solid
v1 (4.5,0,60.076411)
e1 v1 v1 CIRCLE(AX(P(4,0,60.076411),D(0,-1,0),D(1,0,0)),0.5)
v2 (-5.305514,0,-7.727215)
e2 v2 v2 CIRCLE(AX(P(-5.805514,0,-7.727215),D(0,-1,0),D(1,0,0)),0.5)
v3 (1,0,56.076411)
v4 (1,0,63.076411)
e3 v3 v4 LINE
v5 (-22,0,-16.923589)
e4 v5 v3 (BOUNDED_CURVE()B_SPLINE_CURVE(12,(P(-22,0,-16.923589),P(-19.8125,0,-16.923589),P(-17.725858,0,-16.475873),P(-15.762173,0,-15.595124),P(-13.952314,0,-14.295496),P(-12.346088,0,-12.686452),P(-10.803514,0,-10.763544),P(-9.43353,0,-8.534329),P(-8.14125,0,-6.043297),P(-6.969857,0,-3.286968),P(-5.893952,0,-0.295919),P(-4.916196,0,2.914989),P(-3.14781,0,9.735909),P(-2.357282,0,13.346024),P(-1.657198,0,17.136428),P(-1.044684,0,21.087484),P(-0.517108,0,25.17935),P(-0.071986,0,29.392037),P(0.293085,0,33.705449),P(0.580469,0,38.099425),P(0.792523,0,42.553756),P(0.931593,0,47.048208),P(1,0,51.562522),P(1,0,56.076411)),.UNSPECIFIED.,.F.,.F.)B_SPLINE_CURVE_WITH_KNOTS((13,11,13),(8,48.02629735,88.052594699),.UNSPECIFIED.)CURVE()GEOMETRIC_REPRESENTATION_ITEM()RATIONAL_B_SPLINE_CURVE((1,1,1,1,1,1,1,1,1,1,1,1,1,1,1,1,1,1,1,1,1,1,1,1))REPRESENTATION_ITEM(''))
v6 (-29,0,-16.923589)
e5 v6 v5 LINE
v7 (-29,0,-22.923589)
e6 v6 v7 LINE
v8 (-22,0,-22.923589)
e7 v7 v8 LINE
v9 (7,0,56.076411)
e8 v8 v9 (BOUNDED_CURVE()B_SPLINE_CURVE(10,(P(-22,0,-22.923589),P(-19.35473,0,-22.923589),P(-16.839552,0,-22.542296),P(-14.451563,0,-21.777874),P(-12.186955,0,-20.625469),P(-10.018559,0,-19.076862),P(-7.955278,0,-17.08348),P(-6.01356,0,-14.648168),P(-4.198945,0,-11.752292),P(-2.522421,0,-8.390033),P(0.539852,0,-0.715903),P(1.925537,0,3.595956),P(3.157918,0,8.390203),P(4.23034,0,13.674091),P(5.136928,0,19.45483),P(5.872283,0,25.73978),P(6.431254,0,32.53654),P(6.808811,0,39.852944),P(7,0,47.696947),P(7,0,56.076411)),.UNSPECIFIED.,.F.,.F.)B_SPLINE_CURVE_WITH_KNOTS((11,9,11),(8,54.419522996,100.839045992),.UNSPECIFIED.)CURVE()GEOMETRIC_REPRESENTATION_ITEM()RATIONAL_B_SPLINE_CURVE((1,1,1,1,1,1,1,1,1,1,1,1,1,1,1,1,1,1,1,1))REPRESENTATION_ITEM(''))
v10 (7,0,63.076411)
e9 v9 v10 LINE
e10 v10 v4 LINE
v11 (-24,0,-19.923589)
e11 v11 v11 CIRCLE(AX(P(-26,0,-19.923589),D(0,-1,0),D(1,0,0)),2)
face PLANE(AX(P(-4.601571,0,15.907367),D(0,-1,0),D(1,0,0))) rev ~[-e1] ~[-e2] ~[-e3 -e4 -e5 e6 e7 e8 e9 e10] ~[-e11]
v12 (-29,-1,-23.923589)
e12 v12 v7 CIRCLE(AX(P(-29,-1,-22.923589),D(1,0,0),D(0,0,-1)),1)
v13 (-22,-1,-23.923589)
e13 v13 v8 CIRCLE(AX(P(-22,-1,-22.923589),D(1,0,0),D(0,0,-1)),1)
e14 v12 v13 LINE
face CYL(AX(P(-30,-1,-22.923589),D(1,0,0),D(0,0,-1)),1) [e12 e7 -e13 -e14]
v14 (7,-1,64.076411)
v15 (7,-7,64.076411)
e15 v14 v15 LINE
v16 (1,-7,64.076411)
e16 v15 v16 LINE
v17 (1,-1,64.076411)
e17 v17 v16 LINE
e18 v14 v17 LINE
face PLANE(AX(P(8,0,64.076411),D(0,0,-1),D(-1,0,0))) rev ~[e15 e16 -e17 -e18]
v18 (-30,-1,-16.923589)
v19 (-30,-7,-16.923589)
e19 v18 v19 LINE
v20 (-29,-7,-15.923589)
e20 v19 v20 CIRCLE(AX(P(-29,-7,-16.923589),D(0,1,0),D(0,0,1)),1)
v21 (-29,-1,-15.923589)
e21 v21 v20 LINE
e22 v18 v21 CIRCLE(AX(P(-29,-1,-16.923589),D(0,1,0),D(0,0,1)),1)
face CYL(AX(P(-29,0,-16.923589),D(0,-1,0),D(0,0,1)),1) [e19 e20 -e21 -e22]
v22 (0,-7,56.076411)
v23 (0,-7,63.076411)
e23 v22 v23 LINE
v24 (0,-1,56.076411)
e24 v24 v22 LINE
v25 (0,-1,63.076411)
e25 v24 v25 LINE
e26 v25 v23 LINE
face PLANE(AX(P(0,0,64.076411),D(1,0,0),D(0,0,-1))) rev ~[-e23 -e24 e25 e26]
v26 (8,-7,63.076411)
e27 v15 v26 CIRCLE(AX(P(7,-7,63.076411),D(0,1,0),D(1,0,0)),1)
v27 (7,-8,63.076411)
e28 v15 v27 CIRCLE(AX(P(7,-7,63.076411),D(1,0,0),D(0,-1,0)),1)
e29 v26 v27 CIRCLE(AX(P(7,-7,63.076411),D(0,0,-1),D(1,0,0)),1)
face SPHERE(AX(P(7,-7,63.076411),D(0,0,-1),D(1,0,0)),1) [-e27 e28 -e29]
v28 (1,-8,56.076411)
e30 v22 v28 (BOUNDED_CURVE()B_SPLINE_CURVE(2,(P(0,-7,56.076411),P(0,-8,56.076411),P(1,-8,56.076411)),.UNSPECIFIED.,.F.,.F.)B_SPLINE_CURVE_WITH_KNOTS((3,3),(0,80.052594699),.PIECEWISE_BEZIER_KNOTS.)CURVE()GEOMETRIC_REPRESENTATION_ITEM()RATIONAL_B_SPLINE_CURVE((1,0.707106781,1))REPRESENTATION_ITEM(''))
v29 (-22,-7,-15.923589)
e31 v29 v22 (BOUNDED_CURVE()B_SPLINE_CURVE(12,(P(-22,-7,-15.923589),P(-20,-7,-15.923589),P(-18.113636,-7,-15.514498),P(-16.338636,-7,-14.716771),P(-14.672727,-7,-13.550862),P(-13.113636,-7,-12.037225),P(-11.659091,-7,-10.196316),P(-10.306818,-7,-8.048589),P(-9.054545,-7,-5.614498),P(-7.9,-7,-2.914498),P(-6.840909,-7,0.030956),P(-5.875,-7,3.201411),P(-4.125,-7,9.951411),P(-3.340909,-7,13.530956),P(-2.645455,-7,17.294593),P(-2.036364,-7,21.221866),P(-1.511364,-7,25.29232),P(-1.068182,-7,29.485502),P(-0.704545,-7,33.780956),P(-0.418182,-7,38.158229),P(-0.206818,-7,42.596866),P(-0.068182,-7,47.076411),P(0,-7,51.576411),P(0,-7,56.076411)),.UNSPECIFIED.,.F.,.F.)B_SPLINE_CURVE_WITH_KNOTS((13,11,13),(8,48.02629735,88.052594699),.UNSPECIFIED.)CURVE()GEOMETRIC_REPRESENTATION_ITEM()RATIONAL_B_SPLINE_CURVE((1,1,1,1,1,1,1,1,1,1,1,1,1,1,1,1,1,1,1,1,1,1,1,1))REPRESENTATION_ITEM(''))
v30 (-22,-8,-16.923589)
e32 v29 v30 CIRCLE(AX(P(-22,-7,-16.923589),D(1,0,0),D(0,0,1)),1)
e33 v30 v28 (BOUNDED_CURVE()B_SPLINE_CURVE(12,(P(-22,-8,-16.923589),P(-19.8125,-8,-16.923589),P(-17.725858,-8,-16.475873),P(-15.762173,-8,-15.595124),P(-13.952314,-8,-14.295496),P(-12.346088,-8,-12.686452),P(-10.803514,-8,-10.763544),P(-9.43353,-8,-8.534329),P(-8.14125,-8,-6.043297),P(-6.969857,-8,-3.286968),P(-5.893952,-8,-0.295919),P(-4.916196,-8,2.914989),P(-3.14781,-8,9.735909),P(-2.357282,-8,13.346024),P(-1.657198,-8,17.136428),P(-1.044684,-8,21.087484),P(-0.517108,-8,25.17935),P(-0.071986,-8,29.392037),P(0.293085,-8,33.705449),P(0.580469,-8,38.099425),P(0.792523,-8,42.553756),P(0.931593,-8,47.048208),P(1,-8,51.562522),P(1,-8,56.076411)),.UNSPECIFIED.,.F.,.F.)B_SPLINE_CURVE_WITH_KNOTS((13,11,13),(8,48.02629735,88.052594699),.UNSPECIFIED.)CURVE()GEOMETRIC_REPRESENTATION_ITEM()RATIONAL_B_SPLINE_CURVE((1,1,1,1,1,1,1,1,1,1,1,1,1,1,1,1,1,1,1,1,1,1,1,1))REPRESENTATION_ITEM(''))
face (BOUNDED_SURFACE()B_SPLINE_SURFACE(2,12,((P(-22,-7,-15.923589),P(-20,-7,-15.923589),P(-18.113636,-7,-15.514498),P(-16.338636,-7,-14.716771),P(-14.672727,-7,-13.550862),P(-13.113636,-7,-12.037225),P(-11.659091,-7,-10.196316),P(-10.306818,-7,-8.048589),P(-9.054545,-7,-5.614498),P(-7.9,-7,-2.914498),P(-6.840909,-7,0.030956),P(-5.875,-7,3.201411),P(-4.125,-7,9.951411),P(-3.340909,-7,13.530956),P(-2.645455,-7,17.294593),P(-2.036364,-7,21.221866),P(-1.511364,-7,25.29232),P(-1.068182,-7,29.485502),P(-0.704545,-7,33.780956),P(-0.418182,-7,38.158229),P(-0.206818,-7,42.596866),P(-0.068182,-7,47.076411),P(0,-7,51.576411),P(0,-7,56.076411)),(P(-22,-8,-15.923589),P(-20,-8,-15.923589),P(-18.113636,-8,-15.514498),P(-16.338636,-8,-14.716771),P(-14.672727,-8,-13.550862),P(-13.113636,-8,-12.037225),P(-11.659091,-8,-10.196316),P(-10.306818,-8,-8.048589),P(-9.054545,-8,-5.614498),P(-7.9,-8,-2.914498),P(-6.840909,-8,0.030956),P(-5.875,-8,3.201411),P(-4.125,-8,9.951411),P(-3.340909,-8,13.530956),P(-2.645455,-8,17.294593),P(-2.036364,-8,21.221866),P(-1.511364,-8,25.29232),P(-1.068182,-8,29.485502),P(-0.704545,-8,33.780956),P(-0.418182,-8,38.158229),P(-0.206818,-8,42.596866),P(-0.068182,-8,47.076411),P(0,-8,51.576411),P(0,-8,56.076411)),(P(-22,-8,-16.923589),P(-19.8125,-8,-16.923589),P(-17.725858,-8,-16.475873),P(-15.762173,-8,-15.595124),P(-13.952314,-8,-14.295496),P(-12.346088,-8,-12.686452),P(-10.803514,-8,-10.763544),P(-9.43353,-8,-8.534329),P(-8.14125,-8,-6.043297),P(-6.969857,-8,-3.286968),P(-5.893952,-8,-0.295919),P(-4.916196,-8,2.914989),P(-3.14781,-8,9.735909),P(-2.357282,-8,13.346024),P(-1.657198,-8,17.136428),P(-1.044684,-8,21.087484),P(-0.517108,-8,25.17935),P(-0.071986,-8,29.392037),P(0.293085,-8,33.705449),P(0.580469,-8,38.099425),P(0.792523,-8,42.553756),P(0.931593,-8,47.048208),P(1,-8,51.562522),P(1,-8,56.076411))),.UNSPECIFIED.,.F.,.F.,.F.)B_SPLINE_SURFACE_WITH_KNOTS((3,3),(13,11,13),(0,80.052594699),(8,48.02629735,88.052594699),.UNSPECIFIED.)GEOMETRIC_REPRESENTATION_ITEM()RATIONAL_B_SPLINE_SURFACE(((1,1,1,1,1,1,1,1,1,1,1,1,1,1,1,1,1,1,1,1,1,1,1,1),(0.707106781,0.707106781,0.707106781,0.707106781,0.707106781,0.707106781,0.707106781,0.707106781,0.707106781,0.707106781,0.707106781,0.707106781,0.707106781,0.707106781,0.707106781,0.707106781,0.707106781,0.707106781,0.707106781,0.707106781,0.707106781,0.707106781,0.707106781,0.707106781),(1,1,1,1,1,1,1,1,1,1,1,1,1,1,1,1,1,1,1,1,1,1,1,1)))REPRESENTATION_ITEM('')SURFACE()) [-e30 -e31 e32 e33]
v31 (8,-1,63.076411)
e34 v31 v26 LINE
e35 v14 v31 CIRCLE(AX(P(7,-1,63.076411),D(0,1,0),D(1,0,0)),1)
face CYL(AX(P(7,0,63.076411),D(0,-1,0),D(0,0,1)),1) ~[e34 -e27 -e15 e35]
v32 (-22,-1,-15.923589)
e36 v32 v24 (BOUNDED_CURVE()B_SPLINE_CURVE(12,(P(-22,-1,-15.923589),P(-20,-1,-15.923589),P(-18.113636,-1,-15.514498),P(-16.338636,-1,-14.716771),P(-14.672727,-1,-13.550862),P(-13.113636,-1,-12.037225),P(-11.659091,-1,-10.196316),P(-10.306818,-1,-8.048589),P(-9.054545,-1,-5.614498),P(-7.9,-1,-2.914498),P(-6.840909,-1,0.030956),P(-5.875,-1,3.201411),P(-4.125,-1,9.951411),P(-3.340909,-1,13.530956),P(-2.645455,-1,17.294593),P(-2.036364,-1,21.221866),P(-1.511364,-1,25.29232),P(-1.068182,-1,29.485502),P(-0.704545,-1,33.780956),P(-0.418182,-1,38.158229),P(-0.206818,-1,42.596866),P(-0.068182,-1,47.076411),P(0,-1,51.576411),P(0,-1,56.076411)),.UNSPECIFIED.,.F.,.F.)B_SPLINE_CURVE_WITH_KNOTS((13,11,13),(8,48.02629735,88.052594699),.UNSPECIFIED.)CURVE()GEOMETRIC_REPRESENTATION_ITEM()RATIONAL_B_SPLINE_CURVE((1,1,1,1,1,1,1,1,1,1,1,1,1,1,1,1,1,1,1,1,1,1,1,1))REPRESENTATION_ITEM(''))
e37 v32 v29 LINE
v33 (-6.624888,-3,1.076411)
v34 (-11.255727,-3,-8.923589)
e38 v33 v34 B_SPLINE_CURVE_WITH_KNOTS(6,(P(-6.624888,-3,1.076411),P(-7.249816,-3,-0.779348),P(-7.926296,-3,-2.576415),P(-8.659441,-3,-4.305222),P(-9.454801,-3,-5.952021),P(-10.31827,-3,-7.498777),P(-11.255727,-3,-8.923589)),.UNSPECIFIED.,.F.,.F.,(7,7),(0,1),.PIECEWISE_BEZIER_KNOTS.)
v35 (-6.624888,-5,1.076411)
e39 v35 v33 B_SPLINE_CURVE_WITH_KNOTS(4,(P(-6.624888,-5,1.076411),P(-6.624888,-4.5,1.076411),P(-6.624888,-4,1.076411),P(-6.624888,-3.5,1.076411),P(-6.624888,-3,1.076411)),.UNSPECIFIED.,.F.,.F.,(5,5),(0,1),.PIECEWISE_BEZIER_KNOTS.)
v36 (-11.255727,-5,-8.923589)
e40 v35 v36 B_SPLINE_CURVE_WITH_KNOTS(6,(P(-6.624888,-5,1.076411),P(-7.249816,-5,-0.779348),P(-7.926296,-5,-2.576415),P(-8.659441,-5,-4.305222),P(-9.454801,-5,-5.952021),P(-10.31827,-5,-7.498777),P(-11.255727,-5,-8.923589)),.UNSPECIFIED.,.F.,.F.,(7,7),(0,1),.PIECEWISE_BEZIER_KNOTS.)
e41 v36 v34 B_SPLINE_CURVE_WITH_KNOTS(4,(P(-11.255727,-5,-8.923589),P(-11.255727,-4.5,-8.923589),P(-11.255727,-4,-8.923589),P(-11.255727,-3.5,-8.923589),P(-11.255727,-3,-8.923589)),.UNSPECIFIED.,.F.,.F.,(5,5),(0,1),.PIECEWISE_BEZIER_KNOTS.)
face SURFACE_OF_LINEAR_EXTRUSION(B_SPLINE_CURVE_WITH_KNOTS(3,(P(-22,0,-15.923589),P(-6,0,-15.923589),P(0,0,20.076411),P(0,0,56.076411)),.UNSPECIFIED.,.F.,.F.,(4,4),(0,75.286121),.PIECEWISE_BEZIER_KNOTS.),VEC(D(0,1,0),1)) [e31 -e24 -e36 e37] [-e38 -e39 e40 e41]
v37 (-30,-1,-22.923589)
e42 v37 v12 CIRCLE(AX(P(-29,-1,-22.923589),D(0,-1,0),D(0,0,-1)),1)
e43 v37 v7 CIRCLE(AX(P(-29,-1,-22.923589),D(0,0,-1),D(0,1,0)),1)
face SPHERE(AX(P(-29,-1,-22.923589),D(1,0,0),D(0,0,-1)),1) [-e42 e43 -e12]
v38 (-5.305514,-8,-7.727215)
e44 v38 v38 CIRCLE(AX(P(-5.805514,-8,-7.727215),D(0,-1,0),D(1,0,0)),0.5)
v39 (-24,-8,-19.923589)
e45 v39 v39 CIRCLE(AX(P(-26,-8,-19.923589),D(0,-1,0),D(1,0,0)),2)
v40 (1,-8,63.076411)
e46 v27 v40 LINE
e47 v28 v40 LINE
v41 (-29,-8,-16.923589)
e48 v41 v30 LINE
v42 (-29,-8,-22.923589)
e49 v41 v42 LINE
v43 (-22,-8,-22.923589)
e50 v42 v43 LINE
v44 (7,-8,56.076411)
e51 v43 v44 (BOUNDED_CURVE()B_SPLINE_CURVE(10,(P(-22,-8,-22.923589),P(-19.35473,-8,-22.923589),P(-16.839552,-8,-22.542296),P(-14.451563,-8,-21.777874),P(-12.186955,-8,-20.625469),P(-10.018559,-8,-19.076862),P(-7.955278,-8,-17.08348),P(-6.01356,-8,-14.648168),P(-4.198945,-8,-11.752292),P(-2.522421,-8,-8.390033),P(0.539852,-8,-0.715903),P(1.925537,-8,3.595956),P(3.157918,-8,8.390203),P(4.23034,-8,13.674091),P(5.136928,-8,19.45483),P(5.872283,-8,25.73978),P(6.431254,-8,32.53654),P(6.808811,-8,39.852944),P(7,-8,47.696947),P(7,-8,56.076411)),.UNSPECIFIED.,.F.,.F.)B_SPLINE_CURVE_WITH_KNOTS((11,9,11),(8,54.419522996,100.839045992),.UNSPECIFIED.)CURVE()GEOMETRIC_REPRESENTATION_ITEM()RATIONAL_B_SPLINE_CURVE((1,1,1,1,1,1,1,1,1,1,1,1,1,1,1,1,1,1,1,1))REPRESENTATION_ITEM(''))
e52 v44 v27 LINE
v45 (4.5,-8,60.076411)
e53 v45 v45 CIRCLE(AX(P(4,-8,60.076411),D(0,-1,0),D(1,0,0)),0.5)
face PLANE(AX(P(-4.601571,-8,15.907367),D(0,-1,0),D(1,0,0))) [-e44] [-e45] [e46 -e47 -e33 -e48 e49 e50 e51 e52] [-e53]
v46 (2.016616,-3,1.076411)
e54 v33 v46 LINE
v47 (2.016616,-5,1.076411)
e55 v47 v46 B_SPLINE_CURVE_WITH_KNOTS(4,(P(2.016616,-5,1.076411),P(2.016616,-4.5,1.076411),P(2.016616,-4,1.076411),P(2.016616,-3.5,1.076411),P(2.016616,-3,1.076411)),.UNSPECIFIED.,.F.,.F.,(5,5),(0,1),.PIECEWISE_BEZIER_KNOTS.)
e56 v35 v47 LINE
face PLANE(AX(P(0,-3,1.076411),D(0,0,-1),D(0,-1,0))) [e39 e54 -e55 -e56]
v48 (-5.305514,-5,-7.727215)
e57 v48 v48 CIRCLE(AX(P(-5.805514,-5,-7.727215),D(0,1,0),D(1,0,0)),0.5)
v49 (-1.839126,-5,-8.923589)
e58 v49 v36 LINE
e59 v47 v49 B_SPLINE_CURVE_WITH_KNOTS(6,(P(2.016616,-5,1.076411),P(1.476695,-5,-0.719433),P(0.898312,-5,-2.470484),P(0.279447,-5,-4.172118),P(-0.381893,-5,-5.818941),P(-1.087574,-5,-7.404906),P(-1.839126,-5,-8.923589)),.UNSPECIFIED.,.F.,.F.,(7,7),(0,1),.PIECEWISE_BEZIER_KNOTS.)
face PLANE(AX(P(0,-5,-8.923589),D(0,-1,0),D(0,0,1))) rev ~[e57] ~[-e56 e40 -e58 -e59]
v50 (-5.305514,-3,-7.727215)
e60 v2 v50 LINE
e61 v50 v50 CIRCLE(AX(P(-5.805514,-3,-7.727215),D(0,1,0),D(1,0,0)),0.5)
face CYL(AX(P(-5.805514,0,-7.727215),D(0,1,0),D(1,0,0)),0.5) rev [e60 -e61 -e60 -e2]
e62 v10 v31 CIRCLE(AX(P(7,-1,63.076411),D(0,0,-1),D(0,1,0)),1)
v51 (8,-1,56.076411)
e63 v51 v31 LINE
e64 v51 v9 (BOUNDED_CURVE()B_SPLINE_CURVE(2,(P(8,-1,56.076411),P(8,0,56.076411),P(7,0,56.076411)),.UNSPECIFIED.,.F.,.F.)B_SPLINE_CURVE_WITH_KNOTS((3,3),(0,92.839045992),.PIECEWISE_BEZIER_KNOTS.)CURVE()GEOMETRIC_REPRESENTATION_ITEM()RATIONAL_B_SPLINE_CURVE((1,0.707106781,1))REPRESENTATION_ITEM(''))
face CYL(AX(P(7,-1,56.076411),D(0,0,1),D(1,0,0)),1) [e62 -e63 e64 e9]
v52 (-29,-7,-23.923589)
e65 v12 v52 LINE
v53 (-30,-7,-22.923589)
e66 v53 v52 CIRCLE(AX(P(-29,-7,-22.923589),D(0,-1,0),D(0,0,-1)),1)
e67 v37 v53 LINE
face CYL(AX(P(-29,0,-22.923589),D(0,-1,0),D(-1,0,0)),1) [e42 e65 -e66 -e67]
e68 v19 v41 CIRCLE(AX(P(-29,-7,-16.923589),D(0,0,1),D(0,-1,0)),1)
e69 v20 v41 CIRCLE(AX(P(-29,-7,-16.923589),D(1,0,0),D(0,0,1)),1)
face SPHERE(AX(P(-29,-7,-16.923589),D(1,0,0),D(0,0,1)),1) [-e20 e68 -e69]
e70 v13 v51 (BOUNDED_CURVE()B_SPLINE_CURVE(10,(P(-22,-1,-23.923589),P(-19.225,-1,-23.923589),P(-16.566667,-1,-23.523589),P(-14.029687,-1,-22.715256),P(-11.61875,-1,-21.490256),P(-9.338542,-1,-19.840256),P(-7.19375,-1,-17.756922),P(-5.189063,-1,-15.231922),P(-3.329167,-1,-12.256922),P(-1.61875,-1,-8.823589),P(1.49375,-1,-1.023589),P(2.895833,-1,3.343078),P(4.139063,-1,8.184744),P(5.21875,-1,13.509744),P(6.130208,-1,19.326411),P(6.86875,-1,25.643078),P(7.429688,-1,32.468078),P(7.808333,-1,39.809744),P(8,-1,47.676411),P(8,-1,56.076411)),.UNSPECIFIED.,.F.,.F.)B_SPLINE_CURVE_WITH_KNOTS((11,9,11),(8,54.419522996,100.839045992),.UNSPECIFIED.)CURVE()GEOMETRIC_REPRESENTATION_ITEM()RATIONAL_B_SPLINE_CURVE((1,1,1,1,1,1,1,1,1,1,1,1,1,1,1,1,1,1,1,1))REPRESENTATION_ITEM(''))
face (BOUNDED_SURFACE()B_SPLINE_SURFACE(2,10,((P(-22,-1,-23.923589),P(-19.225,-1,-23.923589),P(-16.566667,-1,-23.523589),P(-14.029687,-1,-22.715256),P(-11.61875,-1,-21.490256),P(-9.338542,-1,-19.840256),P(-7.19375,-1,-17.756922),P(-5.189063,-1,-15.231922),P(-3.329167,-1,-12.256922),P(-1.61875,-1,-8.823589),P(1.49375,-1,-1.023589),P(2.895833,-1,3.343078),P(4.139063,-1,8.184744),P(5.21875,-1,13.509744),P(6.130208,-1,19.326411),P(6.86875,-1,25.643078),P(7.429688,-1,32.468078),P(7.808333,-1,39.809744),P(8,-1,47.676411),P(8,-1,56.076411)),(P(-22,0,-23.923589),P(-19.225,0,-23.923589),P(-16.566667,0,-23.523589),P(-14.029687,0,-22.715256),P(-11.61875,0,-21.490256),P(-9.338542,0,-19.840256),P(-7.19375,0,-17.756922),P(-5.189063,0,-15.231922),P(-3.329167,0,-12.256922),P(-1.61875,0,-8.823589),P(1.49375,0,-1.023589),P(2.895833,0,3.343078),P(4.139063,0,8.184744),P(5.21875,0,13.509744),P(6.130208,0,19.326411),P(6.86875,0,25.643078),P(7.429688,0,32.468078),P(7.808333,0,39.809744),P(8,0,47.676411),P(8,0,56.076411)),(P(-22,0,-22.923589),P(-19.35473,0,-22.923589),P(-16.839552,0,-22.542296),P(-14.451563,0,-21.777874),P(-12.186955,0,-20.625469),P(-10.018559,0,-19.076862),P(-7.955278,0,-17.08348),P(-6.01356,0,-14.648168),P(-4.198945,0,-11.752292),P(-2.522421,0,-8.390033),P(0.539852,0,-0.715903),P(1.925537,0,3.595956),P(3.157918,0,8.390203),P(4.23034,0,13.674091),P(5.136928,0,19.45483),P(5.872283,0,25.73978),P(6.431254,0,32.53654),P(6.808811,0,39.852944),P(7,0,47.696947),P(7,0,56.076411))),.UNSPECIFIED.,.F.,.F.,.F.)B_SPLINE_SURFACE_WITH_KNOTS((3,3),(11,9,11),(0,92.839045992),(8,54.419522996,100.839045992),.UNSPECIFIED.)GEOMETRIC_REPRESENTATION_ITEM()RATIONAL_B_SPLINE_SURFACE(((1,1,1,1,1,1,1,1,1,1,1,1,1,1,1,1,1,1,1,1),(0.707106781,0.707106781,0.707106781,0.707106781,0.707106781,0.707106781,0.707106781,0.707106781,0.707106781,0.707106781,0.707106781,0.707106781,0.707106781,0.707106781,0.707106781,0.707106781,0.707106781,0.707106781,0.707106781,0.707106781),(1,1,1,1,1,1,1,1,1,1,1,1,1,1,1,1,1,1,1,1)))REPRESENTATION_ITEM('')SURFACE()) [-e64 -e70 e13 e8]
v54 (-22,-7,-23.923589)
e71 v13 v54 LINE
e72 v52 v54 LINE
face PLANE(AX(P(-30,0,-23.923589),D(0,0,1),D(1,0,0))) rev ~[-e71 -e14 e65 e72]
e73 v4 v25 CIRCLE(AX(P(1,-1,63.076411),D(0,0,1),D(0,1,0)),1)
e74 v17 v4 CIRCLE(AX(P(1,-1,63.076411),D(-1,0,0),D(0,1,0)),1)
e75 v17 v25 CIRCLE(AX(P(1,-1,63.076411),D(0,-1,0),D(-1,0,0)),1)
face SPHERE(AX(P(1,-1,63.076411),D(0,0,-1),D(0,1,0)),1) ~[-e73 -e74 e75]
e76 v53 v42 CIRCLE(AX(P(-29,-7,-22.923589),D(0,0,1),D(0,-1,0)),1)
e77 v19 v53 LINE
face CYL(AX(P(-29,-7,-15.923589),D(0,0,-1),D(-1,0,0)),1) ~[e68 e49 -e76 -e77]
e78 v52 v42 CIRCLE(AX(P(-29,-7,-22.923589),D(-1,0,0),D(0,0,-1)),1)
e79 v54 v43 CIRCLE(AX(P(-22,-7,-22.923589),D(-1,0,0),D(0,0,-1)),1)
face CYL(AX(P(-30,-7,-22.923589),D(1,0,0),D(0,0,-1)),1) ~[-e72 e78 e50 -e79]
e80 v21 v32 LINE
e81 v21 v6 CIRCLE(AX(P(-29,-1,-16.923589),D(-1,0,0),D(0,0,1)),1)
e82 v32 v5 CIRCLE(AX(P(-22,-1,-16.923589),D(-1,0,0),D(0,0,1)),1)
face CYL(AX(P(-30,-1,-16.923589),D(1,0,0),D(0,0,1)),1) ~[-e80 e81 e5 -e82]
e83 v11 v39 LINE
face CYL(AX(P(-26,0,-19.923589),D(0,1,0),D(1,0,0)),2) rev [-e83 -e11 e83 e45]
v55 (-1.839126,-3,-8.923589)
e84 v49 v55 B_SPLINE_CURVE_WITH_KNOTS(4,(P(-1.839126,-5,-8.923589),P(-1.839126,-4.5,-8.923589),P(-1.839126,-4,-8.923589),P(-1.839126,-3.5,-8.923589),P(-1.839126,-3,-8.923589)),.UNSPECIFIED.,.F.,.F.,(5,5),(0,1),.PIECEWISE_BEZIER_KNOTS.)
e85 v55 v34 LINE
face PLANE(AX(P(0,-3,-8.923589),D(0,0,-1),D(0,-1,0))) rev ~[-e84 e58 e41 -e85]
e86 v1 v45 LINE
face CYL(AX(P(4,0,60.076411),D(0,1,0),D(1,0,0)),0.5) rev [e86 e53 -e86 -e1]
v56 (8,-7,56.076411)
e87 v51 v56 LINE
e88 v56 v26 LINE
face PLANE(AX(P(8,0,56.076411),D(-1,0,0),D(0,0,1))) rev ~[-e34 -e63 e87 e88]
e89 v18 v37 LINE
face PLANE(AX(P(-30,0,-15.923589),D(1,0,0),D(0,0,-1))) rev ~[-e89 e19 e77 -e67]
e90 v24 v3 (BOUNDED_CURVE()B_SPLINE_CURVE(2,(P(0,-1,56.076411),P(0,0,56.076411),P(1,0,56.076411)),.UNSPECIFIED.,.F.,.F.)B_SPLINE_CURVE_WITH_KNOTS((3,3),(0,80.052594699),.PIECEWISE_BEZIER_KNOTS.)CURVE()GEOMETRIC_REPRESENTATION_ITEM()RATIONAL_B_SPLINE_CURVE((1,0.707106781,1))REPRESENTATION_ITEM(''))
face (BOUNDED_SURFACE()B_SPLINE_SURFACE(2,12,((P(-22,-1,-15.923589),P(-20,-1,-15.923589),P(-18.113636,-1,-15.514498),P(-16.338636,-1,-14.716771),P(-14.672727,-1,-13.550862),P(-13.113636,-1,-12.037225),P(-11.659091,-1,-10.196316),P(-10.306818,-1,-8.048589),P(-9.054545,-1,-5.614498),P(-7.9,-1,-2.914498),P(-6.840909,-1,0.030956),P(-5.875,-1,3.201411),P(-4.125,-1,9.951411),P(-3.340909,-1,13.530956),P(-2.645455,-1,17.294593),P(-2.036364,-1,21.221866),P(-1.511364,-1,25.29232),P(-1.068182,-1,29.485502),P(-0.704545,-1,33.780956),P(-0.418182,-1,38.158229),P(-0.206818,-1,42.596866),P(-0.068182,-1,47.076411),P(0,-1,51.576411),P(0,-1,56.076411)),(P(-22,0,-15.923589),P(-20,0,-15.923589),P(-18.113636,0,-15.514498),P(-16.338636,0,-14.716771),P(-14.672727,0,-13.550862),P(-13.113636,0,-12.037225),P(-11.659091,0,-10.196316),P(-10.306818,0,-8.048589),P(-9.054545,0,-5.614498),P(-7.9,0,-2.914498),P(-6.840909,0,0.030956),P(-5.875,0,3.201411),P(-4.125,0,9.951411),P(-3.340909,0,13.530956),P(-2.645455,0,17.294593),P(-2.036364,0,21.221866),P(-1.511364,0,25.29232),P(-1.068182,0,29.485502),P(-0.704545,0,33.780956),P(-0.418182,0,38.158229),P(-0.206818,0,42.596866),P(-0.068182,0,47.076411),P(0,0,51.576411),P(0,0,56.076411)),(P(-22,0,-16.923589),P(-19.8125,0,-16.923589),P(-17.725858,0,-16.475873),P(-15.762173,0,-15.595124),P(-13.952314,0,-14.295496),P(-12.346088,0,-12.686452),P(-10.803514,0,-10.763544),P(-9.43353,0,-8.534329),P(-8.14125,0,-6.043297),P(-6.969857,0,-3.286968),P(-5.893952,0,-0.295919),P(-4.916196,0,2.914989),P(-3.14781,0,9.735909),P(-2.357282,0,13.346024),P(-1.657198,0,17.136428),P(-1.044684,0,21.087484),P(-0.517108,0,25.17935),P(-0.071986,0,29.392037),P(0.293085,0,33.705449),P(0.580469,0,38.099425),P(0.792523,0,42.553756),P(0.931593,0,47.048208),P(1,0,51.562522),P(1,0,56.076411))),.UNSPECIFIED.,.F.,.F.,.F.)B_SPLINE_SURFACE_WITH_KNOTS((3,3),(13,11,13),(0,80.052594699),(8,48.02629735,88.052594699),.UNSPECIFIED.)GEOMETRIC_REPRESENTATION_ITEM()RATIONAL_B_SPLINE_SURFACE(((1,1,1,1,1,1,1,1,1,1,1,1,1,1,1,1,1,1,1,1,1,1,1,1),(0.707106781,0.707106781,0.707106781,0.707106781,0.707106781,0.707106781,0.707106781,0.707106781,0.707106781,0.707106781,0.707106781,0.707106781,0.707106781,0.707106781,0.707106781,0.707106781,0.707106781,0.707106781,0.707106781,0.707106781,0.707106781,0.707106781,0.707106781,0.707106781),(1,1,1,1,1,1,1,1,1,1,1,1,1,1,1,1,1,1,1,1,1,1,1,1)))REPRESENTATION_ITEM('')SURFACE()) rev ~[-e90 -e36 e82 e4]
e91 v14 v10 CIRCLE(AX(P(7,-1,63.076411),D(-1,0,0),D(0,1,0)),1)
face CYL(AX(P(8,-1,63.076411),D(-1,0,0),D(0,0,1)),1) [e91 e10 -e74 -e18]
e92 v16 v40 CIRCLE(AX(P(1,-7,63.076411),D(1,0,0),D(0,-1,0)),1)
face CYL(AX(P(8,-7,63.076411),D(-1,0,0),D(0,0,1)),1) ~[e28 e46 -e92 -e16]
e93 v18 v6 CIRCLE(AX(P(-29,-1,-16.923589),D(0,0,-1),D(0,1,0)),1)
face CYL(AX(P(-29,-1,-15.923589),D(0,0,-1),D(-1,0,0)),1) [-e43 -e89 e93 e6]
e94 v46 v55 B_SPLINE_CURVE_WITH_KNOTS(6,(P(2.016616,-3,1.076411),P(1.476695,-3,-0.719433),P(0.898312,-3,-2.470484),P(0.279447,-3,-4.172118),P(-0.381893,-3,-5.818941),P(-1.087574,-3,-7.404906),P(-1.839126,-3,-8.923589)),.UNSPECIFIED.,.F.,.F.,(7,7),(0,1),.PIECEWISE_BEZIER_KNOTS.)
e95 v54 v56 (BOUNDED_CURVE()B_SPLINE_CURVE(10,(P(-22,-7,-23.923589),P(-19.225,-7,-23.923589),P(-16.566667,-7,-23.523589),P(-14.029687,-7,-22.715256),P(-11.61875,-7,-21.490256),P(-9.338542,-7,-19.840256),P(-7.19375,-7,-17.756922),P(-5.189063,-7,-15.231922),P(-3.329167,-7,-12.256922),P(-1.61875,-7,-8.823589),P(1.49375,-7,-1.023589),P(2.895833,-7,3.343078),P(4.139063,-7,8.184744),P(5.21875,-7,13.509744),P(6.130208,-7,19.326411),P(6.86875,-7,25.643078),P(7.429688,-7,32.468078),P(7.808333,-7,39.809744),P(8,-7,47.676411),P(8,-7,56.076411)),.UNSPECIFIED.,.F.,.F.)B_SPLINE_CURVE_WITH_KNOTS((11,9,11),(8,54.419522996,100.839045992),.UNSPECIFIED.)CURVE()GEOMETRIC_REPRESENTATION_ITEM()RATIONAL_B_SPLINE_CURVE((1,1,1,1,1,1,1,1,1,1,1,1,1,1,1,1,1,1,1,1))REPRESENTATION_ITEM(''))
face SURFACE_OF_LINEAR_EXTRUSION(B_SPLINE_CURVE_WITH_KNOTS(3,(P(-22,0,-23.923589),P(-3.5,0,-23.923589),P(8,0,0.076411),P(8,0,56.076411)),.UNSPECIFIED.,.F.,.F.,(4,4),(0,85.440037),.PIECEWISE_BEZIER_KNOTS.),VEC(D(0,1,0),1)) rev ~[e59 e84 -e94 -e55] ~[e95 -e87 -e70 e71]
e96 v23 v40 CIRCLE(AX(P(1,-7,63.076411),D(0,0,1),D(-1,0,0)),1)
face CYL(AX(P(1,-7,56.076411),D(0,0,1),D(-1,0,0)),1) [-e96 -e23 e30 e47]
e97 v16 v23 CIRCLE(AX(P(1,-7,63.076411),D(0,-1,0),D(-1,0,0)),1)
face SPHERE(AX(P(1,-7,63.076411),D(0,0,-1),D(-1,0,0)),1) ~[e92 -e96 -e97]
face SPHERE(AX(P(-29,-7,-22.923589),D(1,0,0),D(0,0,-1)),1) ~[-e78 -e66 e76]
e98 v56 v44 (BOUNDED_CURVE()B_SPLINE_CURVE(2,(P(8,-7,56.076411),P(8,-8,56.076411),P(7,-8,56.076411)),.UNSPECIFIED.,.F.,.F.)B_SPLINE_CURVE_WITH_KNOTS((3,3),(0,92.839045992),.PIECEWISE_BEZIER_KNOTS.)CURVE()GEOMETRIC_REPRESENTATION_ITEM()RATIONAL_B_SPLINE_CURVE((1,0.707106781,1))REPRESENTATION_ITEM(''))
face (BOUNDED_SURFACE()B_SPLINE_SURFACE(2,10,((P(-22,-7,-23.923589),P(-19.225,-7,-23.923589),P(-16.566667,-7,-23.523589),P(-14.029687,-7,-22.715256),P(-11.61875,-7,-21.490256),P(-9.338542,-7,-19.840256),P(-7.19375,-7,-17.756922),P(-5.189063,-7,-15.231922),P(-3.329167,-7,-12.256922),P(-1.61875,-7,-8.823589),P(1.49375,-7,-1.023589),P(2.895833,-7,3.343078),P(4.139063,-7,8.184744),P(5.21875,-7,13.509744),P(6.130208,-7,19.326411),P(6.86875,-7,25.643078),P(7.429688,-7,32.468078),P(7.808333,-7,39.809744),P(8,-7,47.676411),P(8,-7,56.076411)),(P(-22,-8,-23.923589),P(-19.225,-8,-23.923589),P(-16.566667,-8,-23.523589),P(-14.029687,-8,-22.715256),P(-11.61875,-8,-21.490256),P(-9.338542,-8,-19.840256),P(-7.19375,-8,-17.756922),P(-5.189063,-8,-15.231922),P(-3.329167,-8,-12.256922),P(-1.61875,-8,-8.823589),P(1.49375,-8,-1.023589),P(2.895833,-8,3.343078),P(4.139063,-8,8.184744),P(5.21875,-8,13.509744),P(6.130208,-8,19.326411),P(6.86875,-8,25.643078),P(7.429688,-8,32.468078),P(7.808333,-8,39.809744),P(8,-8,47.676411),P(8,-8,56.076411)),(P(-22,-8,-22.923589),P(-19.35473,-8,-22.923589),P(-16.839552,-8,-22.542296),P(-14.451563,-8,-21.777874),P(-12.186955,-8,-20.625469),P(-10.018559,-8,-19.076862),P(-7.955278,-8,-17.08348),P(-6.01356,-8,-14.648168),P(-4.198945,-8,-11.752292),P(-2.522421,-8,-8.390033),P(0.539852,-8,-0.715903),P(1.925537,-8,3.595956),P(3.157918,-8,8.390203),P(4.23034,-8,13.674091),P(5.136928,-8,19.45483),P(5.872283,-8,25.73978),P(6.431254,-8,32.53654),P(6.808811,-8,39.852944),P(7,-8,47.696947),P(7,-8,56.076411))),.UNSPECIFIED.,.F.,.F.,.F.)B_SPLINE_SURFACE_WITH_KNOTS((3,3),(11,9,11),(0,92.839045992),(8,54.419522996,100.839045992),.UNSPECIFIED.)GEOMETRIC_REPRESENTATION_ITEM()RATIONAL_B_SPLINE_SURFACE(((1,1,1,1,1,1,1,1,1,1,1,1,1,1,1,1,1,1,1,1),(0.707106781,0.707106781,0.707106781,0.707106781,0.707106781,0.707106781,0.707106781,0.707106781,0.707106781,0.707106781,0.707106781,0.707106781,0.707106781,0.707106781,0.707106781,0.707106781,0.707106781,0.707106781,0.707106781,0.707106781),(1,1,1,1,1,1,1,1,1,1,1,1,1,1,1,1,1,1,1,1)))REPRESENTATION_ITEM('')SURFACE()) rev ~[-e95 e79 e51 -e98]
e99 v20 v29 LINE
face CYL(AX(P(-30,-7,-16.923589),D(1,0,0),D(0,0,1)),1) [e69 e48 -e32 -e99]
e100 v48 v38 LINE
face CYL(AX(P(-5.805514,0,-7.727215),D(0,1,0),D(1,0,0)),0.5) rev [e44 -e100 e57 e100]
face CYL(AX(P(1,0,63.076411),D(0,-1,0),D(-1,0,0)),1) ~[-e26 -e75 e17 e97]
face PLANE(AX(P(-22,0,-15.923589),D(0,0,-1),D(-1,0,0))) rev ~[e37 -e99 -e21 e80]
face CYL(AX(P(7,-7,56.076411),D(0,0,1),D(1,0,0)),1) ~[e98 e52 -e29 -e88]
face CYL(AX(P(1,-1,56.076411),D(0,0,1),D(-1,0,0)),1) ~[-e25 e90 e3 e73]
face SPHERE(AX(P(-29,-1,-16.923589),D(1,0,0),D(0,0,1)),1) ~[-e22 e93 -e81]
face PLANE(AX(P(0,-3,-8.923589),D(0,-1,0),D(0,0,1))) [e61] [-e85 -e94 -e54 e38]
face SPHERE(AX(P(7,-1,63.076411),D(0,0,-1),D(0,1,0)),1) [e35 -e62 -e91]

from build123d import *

# Parameters (mm, degrees)
F0_R     = 2
F0_R_2   = 0.5
F1_DEPTH = 8
F2_R     = 1
F3_W     = 2
F3_H     = 10
F4_DEPTH = 25


with BuildPart() as f1:
    # F0 (on Front) → F1 (new body)
    with BuildSketch(Plane.XZ):
        with BuildLine():
            Line((-22, -15.923589), (-30, -15.923589))
            Line((-30, -15.923589), (-30, -23.923589))
            Line((-30, -23.923589), (-22, -23.923589))
            add(Edge.make_bspline(
                [(-22, -23.923589), (-3.5, -23.923589), (8, 0.076411), (8, 56.076411)],
                knots=[0, 0, 0, 0, 85.440037, 85.440037, 85.440037, 85.440037], degree=3))
            Line((8, 56.076411), (8, 64.076411))
            Line((8, 64.076411), (0, 64.076411))
            Line((0, 64.076411), (0, 56.076411))
            add(Edge.make_bspline(
                [(-22, -15.923589), (-6, -15.923589), (0, 20.076411), (0, 56.076411)],
                knots=[0, 0, 0, 0, 75.286121, 75.286121, 75.286121, 75.286121], degree=3))
        make_face()
        with Locations((-26, -19.923589)):
            Circle(F0_R, mode=Mode.SUBTRACT)
        with Locations((-5.805514, -7.727215)):
            Circle(F0_R_2, mode=Mode.SUBTRACT)
        with Locations((4, 60.076411)):
            Circle(F0_R_2, mode=Mode.SUBTRACT)
    extrude(amount=F1_DEPTH)

    # F2
    f2_edges = [f1.edges().sort_by_distance(p)[0] for p in [
        (4.219234, -8, 9.887274),
        (4.219234, 0, 9.887274),
        (-2.955442, -8, 16.205486),
        (-2.955442, 0, 16.205486),
        (0, 0, 60.076411),
        (4, 0, 64.076411),
        (8, -4, 64.076411),
        (0, -4, 64.076411),
        (4, -8, 64.076411),
        (-30, -4, -15.923589),
        (-30, -4, -23.923589),
        (-30, 0, -19.923589),
        (-30, -8, -19.923589),
    ]]
    fillet(f2_edges, radius=F2_R)

    # F3 (on face) → F4 (cut, symmetric)
    with BuildSketch(Plane(origin=(0, 0, 0), x_dir=(0, -1, 0), z_dir=(-1, 0, 0))):
        with Locations((4, -3.923589)):
            Rectangle(F3_W, F3_H)
    extrude(amount=F4_DEPTH, both=True, mode=Mode.SUBTRACT)


solid = f1.part
